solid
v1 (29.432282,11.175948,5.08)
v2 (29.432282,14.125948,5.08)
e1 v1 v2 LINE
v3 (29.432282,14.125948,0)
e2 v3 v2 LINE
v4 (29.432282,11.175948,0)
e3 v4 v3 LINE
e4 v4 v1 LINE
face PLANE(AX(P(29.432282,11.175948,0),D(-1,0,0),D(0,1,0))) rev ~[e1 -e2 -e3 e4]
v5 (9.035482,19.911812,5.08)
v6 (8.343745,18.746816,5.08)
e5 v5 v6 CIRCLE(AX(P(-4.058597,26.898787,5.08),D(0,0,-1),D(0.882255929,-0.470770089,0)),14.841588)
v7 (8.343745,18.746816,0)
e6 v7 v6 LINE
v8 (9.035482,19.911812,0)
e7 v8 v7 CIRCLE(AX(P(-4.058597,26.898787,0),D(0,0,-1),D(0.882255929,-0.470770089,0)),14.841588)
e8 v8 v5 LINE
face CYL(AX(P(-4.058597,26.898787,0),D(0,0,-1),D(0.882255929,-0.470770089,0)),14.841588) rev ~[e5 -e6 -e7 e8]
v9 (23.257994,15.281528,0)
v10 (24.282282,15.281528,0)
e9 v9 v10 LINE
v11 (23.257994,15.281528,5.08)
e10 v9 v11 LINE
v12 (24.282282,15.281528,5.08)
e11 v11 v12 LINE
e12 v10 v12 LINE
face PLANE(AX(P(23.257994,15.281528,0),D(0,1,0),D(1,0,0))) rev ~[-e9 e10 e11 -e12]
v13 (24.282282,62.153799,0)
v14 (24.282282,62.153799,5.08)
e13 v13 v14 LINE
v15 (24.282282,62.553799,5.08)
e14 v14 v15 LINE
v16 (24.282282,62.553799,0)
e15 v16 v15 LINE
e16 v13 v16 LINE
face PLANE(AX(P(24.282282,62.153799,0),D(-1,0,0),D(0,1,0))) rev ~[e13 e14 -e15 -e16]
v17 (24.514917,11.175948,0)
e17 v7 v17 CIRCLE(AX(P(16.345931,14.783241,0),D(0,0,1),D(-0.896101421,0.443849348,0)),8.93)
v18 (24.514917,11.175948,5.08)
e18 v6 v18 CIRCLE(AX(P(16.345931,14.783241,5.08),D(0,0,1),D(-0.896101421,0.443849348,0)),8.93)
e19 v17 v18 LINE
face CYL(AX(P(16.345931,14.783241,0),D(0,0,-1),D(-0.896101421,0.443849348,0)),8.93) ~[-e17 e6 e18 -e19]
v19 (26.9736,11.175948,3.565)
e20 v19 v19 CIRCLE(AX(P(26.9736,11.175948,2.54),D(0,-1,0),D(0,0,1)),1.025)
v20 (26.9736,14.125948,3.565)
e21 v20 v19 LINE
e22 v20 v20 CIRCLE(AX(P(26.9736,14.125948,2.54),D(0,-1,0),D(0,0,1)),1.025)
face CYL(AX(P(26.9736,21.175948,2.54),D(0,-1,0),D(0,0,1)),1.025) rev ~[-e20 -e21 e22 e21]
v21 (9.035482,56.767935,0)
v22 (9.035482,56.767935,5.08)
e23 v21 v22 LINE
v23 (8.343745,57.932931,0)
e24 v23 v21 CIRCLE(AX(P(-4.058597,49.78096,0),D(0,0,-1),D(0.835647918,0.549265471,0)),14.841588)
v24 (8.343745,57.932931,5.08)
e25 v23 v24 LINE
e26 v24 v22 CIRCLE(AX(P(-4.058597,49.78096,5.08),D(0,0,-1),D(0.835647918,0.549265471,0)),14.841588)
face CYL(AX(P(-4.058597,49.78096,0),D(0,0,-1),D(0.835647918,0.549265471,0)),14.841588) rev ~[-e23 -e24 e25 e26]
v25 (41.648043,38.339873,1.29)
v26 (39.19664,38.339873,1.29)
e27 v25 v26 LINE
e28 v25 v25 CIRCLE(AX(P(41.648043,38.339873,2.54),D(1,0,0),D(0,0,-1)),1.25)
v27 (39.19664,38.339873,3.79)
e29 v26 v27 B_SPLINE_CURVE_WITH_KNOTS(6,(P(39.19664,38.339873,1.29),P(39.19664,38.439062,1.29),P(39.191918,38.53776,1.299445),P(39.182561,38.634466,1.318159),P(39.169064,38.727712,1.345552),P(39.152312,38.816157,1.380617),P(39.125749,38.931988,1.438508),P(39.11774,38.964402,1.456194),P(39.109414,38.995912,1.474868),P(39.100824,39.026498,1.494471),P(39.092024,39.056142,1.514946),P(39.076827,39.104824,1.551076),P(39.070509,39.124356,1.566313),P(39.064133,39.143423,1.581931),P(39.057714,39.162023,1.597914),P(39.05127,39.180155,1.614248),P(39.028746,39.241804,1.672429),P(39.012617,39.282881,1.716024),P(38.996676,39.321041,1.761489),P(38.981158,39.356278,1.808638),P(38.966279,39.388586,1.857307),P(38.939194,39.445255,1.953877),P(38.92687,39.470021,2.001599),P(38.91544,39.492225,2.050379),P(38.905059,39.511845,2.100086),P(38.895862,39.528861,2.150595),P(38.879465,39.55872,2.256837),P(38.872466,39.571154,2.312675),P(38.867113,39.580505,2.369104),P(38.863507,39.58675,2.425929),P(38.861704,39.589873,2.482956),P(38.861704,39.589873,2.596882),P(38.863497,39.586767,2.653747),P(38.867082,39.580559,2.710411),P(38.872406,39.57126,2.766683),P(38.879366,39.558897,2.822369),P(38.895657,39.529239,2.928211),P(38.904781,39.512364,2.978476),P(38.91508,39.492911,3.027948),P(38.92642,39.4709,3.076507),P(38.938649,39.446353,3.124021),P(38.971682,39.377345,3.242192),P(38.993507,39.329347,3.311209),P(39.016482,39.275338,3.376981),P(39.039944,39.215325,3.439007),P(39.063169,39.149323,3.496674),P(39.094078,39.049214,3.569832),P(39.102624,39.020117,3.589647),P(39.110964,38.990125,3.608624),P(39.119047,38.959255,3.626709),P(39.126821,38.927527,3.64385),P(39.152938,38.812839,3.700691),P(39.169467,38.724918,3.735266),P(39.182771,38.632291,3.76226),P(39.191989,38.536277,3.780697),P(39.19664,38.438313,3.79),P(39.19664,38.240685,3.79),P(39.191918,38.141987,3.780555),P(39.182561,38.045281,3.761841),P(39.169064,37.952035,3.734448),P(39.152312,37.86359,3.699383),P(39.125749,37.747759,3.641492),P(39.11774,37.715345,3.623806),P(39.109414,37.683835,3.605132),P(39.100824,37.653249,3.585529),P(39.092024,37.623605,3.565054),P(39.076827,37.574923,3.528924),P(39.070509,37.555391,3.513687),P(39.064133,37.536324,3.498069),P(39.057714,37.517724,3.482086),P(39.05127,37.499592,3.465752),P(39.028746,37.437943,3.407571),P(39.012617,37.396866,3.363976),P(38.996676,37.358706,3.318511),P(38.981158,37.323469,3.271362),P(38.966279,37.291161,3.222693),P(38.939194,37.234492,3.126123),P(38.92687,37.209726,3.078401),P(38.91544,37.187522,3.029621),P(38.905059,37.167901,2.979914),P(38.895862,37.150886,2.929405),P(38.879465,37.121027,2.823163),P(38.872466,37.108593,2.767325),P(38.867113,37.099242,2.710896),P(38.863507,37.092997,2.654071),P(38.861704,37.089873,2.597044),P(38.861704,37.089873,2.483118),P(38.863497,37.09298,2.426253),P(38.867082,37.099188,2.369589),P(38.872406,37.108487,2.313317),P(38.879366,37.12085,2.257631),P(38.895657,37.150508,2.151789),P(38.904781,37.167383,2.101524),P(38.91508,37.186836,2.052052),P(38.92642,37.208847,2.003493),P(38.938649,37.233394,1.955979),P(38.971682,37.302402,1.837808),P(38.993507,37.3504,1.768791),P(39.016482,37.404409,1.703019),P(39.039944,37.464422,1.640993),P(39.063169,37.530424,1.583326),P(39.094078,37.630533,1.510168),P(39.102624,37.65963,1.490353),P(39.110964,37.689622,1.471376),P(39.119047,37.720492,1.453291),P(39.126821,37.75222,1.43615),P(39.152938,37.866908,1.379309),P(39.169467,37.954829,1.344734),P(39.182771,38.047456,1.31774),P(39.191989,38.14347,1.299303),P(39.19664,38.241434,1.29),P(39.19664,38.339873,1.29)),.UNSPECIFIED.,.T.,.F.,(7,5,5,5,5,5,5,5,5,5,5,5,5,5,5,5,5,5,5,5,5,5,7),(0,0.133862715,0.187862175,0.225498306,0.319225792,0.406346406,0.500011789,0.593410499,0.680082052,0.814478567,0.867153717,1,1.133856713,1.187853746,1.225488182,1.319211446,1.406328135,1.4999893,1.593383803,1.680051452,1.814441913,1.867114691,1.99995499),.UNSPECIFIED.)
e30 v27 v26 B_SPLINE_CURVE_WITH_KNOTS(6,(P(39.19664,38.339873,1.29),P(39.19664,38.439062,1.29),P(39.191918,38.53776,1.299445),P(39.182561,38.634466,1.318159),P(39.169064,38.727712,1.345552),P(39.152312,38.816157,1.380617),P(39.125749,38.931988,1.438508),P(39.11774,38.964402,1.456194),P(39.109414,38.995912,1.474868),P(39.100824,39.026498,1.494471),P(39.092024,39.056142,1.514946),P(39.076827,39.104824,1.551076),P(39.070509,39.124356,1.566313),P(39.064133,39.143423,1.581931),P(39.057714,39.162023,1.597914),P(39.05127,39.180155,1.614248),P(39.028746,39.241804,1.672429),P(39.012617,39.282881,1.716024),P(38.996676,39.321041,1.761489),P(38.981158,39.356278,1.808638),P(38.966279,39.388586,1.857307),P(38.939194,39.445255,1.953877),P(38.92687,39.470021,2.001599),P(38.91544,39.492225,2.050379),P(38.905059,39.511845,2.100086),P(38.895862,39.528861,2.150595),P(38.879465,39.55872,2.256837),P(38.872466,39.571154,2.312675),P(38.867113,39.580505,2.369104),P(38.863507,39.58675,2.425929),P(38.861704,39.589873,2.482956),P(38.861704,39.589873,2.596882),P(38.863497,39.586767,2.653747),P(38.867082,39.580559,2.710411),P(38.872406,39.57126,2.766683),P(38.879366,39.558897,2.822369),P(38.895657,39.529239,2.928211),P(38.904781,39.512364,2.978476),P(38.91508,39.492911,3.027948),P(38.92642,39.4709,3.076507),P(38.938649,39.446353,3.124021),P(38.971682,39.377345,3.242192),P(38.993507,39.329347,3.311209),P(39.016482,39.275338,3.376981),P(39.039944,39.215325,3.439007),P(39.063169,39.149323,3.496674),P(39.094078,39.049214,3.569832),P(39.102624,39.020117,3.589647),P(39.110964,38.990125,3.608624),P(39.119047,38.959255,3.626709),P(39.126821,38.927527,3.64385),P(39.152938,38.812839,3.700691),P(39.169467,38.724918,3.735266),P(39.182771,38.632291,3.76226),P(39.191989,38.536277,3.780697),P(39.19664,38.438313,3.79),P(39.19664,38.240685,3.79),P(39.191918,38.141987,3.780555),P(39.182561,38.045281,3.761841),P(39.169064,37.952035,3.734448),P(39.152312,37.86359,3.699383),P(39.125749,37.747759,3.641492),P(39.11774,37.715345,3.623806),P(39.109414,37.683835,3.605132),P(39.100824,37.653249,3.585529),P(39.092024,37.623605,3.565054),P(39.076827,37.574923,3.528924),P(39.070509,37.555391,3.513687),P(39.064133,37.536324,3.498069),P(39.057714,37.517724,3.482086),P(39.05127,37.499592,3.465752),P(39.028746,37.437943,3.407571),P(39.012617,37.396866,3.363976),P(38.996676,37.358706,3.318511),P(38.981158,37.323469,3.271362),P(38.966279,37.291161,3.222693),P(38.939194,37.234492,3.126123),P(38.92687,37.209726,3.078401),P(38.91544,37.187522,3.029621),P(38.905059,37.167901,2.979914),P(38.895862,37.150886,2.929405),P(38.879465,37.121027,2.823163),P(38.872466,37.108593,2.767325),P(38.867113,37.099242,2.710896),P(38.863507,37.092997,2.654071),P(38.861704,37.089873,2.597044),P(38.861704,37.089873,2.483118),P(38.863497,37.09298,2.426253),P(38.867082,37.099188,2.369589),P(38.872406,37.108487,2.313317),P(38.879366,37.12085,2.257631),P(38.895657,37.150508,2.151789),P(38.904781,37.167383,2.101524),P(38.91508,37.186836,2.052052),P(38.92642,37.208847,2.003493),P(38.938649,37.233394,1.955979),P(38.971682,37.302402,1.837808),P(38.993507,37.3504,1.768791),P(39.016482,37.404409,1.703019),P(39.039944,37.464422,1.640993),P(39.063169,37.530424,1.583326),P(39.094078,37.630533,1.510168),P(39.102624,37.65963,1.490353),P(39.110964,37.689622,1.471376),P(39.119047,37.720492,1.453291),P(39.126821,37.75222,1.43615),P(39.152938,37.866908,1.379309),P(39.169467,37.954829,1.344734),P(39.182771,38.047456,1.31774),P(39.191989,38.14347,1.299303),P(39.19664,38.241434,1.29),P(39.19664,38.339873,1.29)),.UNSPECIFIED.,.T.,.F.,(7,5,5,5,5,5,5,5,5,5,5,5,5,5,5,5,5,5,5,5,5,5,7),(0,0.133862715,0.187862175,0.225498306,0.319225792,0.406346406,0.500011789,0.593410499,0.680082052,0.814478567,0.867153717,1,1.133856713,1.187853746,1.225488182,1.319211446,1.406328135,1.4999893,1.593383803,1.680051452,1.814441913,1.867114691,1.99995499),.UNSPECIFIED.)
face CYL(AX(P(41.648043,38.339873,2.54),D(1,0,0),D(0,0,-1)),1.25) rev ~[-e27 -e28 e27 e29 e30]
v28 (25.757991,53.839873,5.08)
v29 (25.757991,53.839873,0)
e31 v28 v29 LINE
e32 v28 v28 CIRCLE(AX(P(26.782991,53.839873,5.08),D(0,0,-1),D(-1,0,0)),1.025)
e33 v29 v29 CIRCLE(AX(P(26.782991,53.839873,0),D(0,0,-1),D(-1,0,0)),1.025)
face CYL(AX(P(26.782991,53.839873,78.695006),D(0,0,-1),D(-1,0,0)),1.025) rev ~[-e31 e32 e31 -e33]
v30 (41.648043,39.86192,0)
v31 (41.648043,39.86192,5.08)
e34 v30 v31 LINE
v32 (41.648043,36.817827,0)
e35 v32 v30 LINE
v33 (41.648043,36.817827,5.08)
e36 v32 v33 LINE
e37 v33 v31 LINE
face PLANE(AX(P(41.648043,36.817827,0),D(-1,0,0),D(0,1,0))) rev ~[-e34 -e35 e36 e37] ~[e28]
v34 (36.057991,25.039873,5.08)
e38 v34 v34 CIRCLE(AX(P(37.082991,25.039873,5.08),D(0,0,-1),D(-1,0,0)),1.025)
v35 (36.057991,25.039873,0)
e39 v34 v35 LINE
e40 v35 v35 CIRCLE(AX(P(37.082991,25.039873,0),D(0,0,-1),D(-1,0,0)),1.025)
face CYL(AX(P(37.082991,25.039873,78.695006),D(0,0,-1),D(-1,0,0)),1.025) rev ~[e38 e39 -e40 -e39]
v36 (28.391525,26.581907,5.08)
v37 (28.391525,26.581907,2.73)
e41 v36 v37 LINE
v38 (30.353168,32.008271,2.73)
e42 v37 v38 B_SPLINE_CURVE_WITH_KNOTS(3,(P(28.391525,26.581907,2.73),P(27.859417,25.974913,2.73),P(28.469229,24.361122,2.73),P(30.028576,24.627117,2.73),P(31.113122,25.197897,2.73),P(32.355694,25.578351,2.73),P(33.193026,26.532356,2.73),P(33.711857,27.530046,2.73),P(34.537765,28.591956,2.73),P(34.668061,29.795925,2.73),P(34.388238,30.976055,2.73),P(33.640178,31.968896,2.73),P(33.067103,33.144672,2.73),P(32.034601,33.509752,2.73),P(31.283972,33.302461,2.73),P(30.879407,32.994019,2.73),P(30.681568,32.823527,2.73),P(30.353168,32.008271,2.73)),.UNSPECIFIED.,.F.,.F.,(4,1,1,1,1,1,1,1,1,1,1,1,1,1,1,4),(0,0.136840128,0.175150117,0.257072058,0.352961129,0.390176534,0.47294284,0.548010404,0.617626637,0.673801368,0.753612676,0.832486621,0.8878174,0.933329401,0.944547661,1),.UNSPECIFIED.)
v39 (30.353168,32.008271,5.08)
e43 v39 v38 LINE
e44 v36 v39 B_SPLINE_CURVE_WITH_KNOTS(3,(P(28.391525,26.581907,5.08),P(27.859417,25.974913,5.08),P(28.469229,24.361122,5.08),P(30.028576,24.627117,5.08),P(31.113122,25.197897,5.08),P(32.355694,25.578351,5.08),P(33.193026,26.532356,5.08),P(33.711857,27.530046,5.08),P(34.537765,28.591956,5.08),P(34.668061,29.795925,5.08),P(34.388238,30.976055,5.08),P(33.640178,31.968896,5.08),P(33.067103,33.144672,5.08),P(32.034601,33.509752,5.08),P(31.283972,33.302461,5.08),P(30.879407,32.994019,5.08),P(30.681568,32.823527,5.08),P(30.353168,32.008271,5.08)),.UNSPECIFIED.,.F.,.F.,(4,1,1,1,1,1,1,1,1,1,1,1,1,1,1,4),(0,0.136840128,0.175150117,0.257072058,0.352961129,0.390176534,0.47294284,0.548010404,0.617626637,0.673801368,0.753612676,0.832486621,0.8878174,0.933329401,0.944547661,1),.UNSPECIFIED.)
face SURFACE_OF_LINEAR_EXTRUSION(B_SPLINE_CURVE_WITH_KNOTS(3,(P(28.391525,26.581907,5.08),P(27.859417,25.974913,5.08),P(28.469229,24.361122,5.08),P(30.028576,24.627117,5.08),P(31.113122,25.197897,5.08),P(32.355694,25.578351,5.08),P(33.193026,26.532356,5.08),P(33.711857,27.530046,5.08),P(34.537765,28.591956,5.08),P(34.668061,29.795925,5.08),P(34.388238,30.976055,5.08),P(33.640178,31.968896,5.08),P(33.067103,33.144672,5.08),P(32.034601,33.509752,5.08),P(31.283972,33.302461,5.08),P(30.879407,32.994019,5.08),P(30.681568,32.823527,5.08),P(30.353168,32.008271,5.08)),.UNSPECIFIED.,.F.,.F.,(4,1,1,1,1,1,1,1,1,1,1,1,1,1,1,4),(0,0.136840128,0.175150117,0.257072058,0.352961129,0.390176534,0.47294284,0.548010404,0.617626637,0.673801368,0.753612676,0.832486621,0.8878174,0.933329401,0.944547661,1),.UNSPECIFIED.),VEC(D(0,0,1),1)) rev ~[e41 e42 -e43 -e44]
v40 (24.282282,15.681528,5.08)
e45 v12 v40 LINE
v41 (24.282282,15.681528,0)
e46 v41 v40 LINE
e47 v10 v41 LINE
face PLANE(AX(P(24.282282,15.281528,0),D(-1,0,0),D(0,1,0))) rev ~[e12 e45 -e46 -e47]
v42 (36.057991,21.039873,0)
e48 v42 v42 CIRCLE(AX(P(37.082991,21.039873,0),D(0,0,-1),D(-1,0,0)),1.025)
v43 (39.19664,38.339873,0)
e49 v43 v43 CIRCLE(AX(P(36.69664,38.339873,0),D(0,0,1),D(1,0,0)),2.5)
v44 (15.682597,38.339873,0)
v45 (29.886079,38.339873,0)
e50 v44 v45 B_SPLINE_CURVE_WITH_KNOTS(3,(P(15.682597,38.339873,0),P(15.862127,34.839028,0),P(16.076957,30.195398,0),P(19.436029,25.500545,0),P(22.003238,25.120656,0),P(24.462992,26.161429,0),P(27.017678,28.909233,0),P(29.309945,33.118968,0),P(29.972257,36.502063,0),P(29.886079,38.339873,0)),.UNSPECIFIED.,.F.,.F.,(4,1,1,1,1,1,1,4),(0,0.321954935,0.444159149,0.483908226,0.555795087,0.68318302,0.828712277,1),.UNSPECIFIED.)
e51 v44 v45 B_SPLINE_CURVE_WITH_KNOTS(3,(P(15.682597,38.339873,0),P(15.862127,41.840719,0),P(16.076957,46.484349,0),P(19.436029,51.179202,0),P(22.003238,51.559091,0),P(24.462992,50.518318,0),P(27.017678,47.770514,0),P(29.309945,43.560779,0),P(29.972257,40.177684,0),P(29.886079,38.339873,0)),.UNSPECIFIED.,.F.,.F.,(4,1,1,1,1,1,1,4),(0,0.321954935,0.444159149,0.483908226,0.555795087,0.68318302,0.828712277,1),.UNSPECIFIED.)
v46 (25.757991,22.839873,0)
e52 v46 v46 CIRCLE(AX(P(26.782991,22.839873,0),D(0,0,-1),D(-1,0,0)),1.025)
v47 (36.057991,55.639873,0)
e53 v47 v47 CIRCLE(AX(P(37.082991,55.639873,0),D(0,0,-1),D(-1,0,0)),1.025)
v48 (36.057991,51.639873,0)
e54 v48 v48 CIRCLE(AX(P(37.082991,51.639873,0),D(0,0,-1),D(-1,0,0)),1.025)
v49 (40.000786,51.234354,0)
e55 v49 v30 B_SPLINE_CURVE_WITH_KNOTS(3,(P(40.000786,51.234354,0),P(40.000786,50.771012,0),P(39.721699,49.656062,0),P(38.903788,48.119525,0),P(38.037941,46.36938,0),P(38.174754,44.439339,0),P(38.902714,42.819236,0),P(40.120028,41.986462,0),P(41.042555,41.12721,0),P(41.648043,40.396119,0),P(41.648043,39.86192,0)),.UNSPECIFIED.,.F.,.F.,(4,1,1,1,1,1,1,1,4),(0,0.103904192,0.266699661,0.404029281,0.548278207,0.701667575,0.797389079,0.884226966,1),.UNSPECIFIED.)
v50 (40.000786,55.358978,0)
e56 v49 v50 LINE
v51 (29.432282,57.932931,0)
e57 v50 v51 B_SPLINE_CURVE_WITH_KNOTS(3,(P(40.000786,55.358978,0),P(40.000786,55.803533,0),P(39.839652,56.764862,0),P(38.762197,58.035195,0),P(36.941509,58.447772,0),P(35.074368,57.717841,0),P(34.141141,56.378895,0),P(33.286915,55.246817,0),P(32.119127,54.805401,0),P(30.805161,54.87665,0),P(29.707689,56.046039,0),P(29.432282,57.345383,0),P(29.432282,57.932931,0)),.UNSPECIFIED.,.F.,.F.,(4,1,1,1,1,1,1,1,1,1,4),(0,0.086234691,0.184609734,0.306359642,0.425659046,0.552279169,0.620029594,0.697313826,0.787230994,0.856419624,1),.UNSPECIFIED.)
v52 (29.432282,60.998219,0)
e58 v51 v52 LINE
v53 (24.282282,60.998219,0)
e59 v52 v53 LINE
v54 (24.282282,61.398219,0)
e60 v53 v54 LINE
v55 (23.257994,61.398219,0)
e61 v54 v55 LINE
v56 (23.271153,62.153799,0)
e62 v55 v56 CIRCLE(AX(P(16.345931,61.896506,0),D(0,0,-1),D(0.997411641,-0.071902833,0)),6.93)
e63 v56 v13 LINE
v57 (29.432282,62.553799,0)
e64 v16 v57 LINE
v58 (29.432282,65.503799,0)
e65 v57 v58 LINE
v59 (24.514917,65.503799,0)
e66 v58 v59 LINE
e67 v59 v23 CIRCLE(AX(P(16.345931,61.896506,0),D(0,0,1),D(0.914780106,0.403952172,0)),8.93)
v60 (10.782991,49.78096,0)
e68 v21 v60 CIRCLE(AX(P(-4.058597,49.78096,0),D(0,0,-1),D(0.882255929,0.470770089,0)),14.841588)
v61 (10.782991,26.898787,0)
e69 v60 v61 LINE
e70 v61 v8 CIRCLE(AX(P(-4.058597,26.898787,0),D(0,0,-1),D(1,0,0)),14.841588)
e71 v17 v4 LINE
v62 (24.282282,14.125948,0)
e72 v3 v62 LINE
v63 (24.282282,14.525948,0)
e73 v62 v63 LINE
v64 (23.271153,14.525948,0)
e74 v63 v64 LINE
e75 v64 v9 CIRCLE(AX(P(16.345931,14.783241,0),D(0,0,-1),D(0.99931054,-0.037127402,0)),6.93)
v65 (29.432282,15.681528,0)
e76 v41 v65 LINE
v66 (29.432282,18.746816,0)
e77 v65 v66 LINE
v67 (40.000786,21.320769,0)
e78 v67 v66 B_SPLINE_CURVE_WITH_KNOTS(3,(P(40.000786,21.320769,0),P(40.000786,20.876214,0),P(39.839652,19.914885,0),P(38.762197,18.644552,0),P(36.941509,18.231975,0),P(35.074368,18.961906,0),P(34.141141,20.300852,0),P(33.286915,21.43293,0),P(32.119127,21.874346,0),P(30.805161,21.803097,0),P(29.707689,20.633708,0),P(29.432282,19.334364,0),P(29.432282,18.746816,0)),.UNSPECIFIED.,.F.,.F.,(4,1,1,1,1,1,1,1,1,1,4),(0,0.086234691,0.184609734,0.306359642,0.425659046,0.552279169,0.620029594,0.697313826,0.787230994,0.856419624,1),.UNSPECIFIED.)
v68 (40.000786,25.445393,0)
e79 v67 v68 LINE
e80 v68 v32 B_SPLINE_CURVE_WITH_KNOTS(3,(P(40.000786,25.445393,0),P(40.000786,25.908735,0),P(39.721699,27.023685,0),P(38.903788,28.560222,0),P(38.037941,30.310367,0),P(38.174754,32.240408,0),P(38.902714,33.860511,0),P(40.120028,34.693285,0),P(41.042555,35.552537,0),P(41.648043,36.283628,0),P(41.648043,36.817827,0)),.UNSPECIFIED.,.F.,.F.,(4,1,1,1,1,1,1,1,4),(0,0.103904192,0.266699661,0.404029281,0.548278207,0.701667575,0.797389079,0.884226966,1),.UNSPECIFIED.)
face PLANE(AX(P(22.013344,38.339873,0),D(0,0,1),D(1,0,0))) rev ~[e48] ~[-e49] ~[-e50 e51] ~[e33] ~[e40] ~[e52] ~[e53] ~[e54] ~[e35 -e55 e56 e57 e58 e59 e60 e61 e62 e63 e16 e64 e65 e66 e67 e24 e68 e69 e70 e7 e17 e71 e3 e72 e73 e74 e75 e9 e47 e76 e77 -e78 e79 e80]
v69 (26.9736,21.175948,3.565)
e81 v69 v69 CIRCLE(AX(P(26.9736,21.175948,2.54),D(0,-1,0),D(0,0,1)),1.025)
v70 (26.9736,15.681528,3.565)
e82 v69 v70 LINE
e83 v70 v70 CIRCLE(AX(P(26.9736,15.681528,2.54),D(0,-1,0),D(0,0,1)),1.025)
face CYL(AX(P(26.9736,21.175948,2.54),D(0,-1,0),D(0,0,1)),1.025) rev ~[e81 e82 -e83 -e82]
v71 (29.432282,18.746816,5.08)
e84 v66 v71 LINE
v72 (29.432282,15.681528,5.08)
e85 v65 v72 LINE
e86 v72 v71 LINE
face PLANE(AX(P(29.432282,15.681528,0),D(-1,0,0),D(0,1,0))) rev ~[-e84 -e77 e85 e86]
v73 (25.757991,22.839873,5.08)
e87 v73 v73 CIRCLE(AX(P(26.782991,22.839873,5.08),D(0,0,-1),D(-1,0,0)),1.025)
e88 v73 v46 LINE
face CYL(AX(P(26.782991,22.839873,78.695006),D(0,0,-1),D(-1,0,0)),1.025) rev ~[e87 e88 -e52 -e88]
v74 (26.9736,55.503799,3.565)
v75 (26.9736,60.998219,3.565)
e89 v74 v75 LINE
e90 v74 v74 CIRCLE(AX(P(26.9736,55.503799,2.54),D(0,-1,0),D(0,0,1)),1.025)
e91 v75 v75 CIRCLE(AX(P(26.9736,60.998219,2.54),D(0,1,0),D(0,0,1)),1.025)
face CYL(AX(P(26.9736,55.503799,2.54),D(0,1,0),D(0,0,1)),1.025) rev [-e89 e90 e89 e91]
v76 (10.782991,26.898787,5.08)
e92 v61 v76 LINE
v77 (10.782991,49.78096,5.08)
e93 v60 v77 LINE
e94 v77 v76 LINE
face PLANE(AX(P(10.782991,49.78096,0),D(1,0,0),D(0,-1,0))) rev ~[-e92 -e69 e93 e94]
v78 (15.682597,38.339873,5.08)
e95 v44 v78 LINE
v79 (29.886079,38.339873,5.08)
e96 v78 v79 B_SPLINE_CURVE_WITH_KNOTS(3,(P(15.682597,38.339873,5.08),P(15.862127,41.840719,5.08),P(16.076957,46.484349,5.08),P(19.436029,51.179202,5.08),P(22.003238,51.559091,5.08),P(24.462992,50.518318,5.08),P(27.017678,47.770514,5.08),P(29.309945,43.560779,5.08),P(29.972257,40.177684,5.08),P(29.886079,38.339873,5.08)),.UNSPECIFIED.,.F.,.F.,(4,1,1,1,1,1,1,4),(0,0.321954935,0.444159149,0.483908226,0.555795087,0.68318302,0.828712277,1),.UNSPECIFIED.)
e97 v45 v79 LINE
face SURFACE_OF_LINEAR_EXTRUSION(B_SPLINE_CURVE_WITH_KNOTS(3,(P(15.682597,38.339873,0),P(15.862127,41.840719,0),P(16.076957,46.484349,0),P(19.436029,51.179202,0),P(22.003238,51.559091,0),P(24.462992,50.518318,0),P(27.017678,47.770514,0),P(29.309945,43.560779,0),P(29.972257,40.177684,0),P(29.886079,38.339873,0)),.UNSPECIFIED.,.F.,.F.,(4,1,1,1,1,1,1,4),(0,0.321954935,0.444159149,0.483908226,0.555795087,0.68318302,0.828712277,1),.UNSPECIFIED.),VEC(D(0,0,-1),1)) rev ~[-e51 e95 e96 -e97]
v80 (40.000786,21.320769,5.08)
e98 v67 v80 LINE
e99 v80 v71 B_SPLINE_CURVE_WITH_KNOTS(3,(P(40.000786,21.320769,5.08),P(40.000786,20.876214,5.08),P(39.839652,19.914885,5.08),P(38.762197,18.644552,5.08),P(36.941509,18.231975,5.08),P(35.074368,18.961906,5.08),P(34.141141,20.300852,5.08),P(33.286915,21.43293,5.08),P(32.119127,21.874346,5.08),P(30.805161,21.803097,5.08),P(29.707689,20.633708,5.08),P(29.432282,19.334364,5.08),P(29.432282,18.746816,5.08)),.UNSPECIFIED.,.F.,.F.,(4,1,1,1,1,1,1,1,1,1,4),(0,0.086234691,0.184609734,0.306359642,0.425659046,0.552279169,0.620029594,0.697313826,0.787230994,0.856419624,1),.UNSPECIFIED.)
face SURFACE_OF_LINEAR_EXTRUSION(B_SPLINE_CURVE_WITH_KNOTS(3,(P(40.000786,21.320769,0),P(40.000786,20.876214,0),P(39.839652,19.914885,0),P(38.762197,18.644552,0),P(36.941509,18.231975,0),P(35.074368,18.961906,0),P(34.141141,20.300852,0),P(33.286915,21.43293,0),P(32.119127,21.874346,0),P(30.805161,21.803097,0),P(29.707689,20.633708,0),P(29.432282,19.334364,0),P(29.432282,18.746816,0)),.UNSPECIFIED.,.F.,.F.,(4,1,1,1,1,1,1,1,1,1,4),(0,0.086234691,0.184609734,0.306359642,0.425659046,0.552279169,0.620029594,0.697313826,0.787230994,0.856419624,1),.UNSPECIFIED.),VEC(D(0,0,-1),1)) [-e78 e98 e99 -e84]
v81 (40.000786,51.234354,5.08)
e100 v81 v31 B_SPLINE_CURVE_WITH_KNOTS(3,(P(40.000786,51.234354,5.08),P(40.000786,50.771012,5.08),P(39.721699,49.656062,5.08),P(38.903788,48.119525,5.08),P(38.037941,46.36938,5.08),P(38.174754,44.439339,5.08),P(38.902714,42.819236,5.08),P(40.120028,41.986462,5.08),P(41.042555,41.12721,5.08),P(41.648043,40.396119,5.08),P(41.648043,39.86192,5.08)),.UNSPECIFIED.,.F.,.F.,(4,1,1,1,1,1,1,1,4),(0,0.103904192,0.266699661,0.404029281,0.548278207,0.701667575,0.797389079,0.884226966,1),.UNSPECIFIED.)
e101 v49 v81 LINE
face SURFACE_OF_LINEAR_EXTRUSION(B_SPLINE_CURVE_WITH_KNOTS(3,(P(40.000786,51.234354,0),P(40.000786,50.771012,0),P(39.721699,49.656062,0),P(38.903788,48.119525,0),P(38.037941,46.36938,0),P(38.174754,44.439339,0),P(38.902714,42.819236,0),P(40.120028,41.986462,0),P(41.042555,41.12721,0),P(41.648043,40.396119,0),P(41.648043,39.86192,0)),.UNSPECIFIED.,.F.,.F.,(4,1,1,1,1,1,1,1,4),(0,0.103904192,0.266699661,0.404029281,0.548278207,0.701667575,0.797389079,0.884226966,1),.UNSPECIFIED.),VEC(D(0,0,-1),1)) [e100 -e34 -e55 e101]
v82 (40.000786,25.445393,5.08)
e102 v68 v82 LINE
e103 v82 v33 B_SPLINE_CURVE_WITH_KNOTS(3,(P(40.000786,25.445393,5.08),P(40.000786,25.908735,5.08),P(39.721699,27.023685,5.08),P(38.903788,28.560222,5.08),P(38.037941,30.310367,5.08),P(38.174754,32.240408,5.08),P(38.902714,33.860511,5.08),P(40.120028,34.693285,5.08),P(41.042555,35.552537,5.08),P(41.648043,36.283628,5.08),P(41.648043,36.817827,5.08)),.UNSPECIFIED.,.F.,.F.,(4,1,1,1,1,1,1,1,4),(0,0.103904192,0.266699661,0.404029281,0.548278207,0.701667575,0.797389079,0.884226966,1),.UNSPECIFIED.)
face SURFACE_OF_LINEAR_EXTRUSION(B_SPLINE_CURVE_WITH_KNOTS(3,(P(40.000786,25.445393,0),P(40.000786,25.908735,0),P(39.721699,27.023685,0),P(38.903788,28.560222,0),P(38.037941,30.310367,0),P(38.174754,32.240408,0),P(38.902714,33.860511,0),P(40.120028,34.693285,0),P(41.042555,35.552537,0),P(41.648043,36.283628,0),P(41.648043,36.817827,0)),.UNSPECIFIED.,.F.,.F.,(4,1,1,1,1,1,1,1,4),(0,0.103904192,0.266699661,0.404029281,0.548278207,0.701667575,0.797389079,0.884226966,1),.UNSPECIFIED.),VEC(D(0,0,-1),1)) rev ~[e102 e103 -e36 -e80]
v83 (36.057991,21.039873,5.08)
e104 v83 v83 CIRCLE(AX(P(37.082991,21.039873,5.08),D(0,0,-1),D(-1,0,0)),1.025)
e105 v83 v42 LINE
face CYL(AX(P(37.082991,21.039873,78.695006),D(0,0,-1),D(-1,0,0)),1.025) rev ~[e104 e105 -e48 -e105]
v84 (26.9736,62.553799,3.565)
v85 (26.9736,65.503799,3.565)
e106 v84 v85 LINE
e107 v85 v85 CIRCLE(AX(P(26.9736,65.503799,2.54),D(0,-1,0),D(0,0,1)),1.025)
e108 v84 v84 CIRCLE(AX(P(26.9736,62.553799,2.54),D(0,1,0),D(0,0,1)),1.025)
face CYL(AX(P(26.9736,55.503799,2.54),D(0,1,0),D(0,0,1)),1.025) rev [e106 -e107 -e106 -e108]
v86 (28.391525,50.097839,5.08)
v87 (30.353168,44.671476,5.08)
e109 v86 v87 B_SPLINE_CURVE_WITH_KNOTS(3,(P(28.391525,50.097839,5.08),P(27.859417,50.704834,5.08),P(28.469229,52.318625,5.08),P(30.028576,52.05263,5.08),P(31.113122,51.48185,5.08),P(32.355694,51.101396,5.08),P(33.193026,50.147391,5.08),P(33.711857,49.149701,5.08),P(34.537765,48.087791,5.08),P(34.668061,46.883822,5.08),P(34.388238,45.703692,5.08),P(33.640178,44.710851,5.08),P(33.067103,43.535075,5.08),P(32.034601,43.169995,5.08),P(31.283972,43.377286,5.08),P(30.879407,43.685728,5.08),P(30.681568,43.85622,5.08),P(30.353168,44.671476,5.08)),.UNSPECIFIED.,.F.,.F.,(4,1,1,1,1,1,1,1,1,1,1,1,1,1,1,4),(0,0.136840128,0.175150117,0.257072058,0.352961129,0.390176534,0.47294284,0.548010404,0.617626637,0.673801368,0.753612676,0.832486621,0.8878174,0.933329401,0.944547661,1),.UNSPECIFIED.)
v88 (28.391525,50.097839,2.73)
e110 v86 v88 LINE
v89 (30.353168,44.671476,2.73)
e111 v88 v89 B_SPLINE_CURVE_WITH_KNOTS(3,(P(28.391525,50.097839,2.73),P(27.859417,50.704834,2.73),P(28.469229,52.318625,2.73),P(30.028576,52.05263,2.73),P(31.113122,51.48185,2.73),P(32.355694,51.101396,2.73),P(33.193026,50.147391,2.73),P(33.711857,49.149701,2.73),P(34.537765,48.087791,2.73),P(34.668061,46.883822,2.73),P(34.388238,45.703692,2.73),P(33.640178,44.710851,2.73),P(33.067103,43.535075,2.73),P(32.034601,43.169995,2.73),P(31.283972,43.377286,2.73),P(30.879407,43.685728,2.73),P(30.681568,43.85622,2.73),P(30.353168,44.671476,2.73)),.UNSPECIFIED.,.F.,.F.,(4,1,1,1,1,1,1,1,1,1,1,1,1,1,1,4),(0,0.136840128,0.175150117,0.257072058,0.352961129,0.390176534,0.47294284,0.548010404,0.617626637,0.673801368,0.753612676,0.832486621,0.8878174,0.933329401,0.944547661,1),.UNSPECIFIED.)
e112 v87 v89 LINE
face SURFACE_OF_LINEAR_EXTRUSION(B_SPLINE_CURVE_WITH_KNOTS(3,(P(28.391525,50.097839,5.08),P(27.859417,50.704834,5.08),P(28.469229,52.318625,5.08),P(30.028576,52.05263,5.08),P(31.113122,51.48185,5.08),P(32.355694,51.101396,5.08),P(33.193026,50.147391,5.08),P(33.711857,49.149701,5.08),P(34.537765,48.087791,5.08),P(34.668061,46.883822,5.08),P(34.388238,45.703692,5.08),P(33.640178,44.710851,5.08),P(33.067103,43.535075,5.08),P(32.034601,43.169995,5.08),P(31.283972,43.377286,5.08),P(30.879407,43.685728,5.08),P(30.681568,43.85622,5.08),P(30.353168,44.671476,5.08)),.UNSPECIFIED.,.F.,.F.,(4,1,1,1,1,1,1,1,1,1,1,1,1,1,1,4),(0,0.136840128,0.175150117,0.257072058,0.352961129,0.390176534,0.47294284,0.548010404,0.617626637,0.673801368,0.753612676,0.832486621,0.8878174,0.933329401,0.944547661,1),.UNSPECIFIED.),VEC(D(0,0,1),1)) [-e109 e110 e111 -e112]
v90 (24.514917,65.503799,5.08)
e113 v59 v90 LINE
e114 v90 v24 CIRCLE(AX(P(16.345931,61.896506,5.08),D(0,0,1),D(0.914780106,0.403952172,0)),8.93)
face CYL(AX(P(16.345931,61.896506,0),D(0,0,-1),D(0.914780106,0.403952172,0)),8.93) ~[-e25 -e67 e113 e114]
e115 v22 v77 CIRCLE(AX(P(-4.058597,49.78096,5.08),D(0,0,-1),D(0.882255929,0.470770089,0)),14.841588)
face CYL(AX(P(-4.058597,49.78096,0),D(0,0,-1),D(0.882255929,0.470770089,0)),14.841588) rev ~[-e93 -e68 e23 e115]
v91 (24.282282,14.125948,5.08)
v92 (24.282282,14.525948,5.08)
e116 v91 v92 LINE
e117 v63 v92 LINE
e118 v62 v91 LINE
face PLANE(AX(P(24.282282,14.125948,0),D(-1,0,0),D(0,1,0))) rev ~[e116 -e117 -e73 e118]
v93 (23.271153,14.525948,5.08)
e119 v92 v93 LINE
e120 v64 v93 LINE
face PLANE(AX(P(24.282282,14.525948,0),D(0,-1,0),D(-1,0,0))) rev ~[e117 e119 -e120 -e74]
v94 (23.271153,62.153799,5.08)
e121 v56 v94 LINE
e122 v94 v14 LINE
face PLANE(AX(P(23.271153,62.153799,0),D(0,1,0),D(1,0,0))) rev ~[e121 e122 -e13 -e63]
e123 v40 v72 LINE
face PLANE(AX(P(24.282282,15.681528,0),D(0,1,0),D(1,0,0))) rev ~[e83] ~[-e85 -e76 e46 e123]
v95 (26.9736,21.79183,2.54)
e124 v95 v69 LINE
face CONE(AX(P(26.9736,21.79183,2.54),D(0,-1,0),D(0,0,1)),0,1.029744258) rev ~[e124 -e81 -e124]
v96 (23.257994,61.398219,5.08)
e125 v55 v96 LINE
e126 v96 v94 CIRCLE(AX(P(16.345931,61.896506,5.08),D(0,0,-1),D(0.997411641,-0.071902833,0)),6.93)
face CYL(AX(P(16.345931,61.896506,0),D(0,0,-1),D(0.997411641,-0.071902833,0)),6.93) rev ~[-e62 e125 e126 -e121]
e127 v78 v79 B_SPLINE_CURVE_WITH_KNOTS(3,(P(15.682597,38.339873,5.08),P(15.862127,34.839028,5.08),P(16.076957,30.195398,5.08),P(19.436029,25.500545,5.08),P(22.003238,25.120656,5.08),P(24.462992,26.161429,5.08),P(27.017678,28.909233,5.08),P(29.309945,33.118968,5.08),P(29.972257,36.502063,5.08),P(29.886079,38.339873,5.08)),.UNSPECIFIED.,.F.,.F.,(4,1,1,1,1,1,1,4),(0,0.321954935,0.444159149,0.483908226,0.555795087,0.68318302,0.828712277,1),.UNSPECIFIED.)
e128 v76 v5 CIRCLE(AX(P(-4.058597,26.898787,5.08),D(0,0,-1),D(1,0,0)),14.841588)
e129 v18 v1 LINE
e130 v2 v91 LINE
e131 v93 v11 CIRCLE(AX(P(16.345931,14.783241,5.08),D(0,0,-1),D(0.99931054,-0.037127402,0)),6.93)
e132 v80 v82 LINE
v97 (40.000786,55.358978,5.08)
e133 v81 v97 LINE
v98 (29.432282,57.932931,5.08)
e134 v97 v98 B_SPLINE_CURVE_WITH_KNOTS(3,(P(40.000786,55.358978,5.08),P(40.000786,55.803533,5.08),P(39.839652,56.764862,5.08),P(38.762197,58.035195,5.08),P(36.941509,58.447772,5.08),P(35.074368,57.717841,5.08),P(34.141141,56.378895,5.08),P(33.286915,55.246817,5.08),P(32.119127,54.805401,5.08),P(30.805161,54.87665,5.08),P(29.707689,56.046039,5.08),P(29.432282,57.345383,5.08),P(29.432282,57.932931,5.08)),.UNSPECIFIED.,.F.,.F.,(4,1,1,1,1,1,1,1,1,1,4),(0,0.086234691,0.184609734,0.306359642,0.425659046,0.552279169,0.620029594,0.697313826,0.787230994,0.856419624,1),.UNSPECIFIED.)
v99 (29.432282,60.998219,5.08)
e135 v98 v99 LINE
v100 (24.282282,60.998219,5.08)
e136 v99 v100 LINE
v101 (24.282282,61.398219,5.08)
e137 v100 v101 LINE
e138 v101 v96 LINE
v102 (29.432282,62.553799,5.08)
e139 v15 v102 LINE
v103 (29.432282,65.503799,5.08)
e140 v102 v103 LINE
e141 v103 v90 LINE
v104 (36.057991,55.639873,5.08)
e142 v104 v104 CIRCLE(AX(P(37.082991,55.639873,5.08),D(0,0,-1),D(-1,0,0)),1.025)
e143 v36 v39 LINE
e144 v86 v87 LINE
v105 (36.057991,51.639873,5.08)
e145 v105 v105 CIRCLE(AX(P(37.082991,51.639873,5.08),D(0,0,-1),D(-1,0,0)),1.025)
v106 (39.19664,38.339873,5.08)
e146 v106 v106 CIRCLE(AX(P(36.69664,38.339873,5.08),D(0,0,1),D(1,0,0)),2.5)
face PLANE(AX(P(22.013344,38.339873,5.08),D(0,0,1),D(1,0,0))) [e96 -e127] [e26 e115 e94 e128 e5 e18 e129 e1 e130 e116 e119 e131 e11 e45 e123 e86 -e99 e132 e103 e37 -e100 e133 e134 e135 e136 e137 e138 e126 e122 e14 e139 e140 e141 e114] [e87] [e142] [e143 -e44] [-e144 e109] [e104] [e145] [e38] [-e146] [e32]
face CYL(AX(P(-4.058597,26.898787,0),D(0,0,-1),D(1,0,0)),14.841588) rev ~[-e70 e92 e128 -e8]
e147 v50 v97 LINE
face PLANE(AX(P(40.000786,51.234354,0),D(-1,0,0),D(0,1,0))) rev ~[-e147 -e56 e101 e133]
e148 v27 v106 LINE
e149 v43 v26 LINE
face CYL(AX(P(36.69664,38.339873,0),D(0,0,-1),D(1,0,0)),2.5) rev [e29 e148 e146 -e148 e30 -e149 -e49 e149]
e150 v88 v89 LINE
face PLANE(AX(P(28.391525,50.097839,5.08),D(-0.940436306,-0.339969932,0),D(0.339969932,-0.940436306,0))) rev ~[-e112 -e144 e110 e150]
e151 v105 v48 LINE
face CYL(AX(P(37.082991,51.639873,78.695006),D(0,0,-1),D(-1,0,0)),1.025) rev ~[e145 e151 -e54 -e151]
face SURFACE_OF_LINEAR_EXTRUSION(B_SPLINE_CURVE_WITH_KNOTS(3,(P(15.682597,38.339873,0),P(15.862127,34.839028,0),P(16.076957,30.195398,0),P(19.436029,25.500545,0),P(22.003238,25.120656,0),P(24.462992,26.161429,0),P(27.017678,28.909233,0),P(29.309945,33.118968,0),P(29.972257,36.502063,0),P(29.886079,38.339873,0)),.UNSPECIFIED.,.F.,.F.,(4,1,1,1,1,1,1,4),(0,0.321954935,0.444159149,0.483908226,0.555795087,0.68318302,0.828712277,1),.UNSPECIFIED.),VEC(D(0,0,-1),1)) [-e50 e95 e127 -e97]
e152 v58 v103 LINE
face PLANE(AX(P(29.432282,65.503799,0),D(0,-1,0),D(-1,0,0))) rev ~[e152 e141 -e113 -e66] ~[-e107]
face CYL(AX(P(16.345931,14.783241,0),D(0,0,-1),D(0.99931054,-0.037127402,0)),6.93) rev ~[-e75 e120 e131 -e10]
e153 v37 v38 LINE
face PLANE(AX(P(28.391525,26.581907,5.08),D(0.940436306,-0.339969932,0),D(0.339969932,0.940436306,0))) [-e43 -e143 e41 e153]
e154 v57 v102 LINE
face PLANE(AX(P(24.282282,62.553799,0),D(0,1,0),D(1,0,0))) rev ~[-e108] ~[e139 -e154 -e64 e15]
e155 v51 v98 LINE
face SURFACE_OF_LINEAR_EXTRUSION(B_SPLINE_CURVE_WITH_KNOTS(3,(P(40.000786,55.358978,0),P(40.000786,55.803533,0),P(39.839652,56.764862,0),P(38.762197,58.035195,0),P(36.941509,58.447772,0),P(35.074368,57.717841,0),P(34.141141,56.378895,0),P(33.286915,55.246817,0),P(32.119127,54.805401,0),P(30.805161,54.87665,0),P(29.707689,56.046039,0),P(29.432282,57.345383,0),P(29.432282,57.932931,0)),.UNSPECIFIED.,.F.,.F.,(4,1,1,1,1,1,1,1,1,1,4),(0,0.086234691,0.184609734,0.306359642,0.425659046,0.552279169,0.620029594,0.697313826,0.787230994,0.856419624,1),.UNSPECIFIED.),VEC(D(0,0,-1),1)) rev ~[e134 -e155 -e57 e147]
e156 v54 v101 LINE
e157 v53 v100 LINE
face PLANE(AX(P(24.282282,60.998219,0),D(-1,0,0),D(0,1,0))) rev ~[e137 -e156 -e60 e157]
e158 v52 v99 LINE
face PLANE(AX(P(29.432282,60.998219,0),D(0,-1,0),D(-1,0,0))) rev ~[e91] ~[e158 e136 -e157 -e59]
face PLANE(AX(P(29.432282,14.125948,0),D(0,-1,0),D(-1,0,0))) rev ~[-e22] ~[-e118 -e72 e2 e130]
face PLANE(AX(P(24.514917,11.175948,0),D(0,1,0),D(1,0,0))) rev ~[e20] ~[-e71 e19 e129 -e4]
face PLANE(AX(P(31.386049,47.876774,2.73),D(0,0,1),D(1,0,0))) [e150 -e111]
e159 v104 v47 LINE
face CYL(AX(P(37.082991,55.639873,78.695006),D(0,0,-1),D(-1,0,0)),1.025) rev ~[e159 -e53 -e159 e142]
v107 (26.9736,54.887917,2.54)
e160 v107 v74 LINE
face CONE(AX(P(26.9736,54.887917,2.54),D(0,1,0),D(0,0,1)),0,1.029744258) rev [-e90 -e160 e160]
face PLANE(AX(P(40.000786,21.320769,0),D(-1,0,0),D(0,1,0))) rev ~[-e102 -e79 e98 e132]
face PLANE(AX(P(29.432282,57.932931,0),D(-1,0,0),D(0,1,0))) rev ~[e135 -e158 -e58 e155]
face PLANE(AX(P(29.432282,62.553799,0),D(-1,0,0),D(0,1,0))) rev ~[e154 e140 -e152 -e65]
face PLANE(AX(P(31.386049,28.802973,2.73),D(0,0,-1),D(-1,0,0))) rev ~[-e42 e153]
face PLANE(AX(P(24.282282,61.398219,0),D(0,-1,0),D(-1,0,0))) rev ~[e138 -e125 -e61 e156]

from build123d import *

# Parameters (mm, degrees)
SCHIZZO1_R                     = 2.5
ESTRUSIONE_ESTRUSIONE1_DEPTH   = 5.08
TAGLIO_ESTRUSIONE1_DEPTH       = 2.35
FORO_FILETTATO_M2_5X0_45_1_D   = 2.05
FORO_FILETTATO_M3X0_5_1_REACH  = 80.829
FORO_FILETTATO_M3X0_5_1_BORE_R = 1.25


with BuildPart() as part:
    # Schizzo1 → Estrusione-Estrusione1 (new body)
    with BuildSketch(Plane.XY):
        with BuildLine():
            Line((10.78299118, 49.780959651), (10.78299118, 26.898787325))
            ThreePointArc((10.78299118, 26.898787325), (10.339487436, 23.297689716), (9.035482204, 19.911811705))
            ThreePointArc((9.035482204, 19.911811705), (8.70291473, 19.32141597), (8.343745321, 18.7468156))
            ThreePointArc((8.343745321, 18.7468156), (12.559578595, 6.695692747), (24.514917355, 11.175948023))
            Line((24.514917355, 11.175948023), (29.432282014, 11.175948023))
            Line((29.432282014, 11.175948023), (29.432282014, 14.125948023))
            Line((29.432282014, 14.125948023), (24.282282014, 14.125948023))
            Line((24.282282014, 14.125948023), (24.282282014, 14.525948023))
            Line((24.282282014, 14.525948023), (23.271153051, 14.525948023))
            ThreePointArc((23.271153051, 14.525948023), (9.416981792, 14.662564542), (23.257993682, 15.281527553))
            Line((23.257993682, 15.281527553), (24.282282014, 15.281527553))
            Line((24.282282014, 15.281527553), (24.282282014, 15.681527553))
            Line((24.282282014, 15.681527553), (29.432282014, 15.681527553))
            Line((29.432282014, 15.681527553), (29.432282014, 18.7468156))
            add(Edge.make_bspline(
                [(40.000786153, 21.320769203), (40.000786153, 20.876213518), (39.839651949, 19.914885346), (38.762197399, 18.644551924), (36.941508917, 18.231975362), (35.074368134, 18.961905605), (34.141140628, 20.300851978), (33.28691486, 21.432930151), (32.119127395, 21.874346007), (30.805160818, 21.803097176), (29.707689334, 20.633708437), (29.432282014, 19.334363976), (29.432282014, 18.7468156)],
                knots=[0, 0, 0, 0, 0.086234691, 0.184609734, 0.306359642, 0.425659046, 0.552279169, 0.620029594, 0.697313826, 0.787230994, 0.856419624, 1, 1, 1, 1], degree=3))
            Line((40.000786153, 21.320769203), (40.000786153, 25.445392669))
            add(Edge.make_bspline(
                [(40.000786153, 25.445392669), (40.000786153, 25.908735086), (39.721698855, 27.023685395), (38.903788121, 28.56022153), (38.037940745, 30.310367093), (38.174753721, 32.240407679), (38.902713905, 33.860511177), (40.120028186, 34.693284663), (41.042554679, 35.552536639), (41.648042989, 36.283627884), (41.648042989, 36.817827012)],
                knots=[0, 0, 0, 0, 0.103904192, 0.266699661, 0.404029281, 0.548278207, 0.701667575, 0.797389079, 0.884226966, 1, 1, 1, 1], degree=3))
            Line((41.648042989, 36.817827012), (41.648042989, 39.861919964))
            add(Edge.make_bspline(
                [(40.000786153, 51.234354306), (40.000786153, 50.77101189), (39.721698855, 49.65606158), (38.903788121, 48.119525445), (38.037940745, 46.369379882), (38.174753721, 44.439339296), (38.902713905, 42.819235798), (40.120028186, 41.986462312), (41.042554679, 41.127210336), (41.648042989, 40.396119091), (41.648042989, 39.861919964)],
                knots=[0, 0, 0, 0, 0.103904192, 0.266699661, 0.404029281, 0.548278207, 0.701667575, 0.797389079, 0.884226966, 1, 1, 1, 1], degree=3))
            Line((40.000786153, 51.234354306), (40.000786153, 55.358977772))
            add(Edge.make_bspline(
                [(40.000786153, 55.358977772), (40.000786153, 55.803533457), (39.839651949, 56.764861629), (38.762197399, 58.035195052), (36.941508917, 58.447771613), (35.074368134, 57.717841371), (34.141140628, 56.378894997), (33.28691486, 55.246816824), (32.119127395, 54.805400968), (30.805160818, 54.876649799), (29.707689334, 56.046038538), (29.432282014, 57.345382999), (29.432282014, 57.932931375)],
                knots=[0, 0, 0, 0, 0.086234691, 0.184609734, 0.306359642, 0.425659046, 0.552279169, 0.620029594, 0.697313826, 0.787230994, 0.856419624, 1, 1, 1, 1], degree=3))
            Line((29.432282014, 57.932931375), (29.432282014, 60.998219422))
            Line((29.432282014, 60.998219422), (24.282282014, 60.998219422))
            Line((24.282282014, 60.998219422), (24.282282014, 61.398219422))
            Line((24.282282014, 61.398219422), (23.257993682, 61.398219422))
            ThreePointArc((23.257993682, 61.398219422), (9.416981792, 62.017182434), (23.271153051, 62.153798952))
            Line((23.271153051, 62.153798952), (24.282282014, 62.153798952))
            Line((24.282282014, 62.153798952), (24.282282014, 62.553798952))
            Line((24.282282014, 62.553798952), (29.432282014, 62.553798952))
            Line((29.432282014, 62.553798952), (29.432282014, 65.503798952))
            Line((29.432282014, 65.503798952), (24.514917355, 65.503798952))
            ThreePointArc((24.514917355, 65.503798952), (12.559578595, 69.984054228), (8.343745321, 57.932931375))
            ThreePointArc((8.343745321, 57.932931375), (8.70291473, 57.358331006), (9.035482204, 56.767935271))
            ThreePointArc((9.035482204, 56.767935271), (10.339487436, 53.382057259), (10.78299118, 49.780959651))
        make_face()
        with BuildLine():
            add(Edge.make_bspline(
                [(15.682597142, 38.339873488), (15.862127321, 34.83902794), (16.076956788, 30.195397892), (19.436029343, 25.500544959), (22.003237557, 25.120656017), (24.462992199, 26.161428979), (27.017677892, 28.909232559), (29.309944893, 33.118967607), (29.972256674, 36.502062861), (29.886078718, 38.339873488)],
                knots=[0, 0, 0, 0, 0.321954935, 0.444159149, 0.483908226, 0.555795087, 0.68318302, 0.828712277, 1, 1, 1, 1], degree=3))
            add(Edge.make_bspline(
                [(15.682597142, 38.339873488), (15.862127321, 41.840719035), (16.076956788, 46.484349083), (19.436029343, 51.179202017), (22.003237557, 51.559090959), (24.462992199, 50.518317996), (27.017677892, 47.770514416), (29.309944893, 43.560779368), (29.972256674, 40.177684115), (29.886078718, 38.339873488)],
                knots=[0, 0, 0, 0, 0.321954935, 0.444159149, 0.483908226, 0.555795087, 0.68318302, 0.828712277, 1, 1, 1, 1], degree=3))
        make_face(mode=Mode.SUBTRACT)
        with Locations((36.696640264, 38.339873488)):
            Circle(SCHIZZO1_R, mode=Mode.SUBTRACT)
    extrude(amount=ESTRUSIONE_ESTRUSIONE1_DEPTH)

    # Schizzo2 → Taglio-Estrusione1 (cut)
    with BuildSketch(Plane.XY.offset(5.08)):
        with BuildLine():
            Line((28.391525021, 50.0978395), (30.353168063, 44.671476279))
            add(Edge.make_bspline(
                [(28.391525021, 50.0978395), (27.85941667, 50.70483352), (28.469228552, 52.318625392), (30.028576321, 52.052630421), (31.113122257, 51.481849946), (32.355694438, 51.101396326), (33.193026443, 50.147391254), (33.71185739, 49.149700577), (34.537765346, 48.087790645), (34.668060624, 46.883821656), (34.388238335, 45.703691513), (33.640178154, 44.710850874), (33.067102926, 43.535075454), (32.034600726, 43.169994725), (31.283972065, 43.377286139), (30.879406935, 43.685727772), (30.681567817, 43.856219961), (30.353168063, 44.671476279)],
                knots=[0, 0, 0, 0, 0.136840128, 0.175150117, 0.257072058, 0.352961129, 0.390176534, 0.47294284, 0.548010404, 0.617626637, 0.673801368, 0.753612676, 0.832486621, 0.8878174, 0.933329401, 0.944547661, 1, 1, 1, 1], degree=3))
        make_face()
        with BuildLine():
            Line((28.391525021, 26.581907475), (30.353168063, 32.008270697))
            add(Edge.make_bspline(
                [(28.391525021, 26.581907475), (27.85941667, 25.974913456), (28.469228552, 24.361121583), (30.028576321, 24.627116554), (31.113122257, 25.197897029), (32.355694438, 25.57835065), (33.193026443, 26.532355721), (33.71185739, 27.530046399), (34.537765346, 28.59195633), (34.668060624, 29.795925319), (34.388238335, 30.976055462), (33.640178154, 31.968896101), (33.067102926, 33.144671522), (32.034600726, 33.50975225), (31.283972065, 33.302460836), (30.879406935, 32.994019203), (30.681567817, 32.823527014), (30.353168063, 32.008270697)],
                knots=[0, 0, 0, 0, 0.136840128, 0.175150117, 0.257072058, 0.352961129, 0.390176534, 0.47294284, 0.548010404, 0.617626637, 0.673801368, 0.753612676, 0.832486621, 0.8878174, 0.933329401, 0.944547661, 1, 1, 1, 1], degree=3))
        make_face()
    extrude(amount=-TAGLIO_ESTRUSIONE1_DEPTH, mode=Mode.SUBTRACT)

    # Foro filettato M2.5x0.45-1 (through all)
    with Locations(Plane.XY.offset(5.08)):
        with Locations((37.08299118, 25.039873488), (37.08299118, 21.039873488), (26.78299118, 22.839873488), (26.78299118, 53.839873488), (37.08299118, 55.639873488), (37.08299118, 51.639873488)):
            Hole(FORO_FILETTATO_M2_5X0_45_1_D / 2)

    # Foro filettato M3x0.5-1 bore → Foro filettato M3x0.5-1 (cut, up to next)
    with BuildSketch(Plane(origin=(41.648042989, 0, 0), x_dir=(0, 0, -1), z_dir=(1, 0, 0)), mode=Mode.PRIVATE) as foro_filettato_m3x0_5_1_sk1:
        with Locations((-2.54, 38.339873488)):
            Circle(FORO_FILETTATO_M3X0_5_1_BORE_R)
    foro_filettato_m3x0_5_1_tool1 = extrude(foro_filettato_m3x0_5_1_sk1.sketch, amount=-FORO_FILETTATO_M3X0_5_1_REACH, mode=Mode.PRIVATE) & part.part
    add(foro_filettato_m3x0_5_1_tool1.solids().sort_by_distance((41.648043, 38.339873, 2.54))[0], mode=Mode.SUBTRACT)

    # Schizzo7 → Foro filettato M2.5x0.45-2 (revolve, cut)
    with BuildSketch(Plane(origin=(26.973599685, 65.503798952, 2.54), x_dir=(0, 0, 1), z_dir=(1, 0, 0))):
        Polygon((0, 0), (0, 10.615882135), (1.025, 10), (1.025, 0), align=None)
    foro_filettato_m2_5x0_45_2 = revolve(axis=Axis((26.973599685, 71.853798952, 2.54), (0, -1, 0)), mode=Mode.SUBTRACT)

    # Specchia1: Foro filettato M2.5x0.45-2 across plane
    add(foro_filettato_m2_5x0_45_2.mirror(Plane.ZX.offset(38.339873488)), mode=Mode.SUBTRACT)


solid = part.part
